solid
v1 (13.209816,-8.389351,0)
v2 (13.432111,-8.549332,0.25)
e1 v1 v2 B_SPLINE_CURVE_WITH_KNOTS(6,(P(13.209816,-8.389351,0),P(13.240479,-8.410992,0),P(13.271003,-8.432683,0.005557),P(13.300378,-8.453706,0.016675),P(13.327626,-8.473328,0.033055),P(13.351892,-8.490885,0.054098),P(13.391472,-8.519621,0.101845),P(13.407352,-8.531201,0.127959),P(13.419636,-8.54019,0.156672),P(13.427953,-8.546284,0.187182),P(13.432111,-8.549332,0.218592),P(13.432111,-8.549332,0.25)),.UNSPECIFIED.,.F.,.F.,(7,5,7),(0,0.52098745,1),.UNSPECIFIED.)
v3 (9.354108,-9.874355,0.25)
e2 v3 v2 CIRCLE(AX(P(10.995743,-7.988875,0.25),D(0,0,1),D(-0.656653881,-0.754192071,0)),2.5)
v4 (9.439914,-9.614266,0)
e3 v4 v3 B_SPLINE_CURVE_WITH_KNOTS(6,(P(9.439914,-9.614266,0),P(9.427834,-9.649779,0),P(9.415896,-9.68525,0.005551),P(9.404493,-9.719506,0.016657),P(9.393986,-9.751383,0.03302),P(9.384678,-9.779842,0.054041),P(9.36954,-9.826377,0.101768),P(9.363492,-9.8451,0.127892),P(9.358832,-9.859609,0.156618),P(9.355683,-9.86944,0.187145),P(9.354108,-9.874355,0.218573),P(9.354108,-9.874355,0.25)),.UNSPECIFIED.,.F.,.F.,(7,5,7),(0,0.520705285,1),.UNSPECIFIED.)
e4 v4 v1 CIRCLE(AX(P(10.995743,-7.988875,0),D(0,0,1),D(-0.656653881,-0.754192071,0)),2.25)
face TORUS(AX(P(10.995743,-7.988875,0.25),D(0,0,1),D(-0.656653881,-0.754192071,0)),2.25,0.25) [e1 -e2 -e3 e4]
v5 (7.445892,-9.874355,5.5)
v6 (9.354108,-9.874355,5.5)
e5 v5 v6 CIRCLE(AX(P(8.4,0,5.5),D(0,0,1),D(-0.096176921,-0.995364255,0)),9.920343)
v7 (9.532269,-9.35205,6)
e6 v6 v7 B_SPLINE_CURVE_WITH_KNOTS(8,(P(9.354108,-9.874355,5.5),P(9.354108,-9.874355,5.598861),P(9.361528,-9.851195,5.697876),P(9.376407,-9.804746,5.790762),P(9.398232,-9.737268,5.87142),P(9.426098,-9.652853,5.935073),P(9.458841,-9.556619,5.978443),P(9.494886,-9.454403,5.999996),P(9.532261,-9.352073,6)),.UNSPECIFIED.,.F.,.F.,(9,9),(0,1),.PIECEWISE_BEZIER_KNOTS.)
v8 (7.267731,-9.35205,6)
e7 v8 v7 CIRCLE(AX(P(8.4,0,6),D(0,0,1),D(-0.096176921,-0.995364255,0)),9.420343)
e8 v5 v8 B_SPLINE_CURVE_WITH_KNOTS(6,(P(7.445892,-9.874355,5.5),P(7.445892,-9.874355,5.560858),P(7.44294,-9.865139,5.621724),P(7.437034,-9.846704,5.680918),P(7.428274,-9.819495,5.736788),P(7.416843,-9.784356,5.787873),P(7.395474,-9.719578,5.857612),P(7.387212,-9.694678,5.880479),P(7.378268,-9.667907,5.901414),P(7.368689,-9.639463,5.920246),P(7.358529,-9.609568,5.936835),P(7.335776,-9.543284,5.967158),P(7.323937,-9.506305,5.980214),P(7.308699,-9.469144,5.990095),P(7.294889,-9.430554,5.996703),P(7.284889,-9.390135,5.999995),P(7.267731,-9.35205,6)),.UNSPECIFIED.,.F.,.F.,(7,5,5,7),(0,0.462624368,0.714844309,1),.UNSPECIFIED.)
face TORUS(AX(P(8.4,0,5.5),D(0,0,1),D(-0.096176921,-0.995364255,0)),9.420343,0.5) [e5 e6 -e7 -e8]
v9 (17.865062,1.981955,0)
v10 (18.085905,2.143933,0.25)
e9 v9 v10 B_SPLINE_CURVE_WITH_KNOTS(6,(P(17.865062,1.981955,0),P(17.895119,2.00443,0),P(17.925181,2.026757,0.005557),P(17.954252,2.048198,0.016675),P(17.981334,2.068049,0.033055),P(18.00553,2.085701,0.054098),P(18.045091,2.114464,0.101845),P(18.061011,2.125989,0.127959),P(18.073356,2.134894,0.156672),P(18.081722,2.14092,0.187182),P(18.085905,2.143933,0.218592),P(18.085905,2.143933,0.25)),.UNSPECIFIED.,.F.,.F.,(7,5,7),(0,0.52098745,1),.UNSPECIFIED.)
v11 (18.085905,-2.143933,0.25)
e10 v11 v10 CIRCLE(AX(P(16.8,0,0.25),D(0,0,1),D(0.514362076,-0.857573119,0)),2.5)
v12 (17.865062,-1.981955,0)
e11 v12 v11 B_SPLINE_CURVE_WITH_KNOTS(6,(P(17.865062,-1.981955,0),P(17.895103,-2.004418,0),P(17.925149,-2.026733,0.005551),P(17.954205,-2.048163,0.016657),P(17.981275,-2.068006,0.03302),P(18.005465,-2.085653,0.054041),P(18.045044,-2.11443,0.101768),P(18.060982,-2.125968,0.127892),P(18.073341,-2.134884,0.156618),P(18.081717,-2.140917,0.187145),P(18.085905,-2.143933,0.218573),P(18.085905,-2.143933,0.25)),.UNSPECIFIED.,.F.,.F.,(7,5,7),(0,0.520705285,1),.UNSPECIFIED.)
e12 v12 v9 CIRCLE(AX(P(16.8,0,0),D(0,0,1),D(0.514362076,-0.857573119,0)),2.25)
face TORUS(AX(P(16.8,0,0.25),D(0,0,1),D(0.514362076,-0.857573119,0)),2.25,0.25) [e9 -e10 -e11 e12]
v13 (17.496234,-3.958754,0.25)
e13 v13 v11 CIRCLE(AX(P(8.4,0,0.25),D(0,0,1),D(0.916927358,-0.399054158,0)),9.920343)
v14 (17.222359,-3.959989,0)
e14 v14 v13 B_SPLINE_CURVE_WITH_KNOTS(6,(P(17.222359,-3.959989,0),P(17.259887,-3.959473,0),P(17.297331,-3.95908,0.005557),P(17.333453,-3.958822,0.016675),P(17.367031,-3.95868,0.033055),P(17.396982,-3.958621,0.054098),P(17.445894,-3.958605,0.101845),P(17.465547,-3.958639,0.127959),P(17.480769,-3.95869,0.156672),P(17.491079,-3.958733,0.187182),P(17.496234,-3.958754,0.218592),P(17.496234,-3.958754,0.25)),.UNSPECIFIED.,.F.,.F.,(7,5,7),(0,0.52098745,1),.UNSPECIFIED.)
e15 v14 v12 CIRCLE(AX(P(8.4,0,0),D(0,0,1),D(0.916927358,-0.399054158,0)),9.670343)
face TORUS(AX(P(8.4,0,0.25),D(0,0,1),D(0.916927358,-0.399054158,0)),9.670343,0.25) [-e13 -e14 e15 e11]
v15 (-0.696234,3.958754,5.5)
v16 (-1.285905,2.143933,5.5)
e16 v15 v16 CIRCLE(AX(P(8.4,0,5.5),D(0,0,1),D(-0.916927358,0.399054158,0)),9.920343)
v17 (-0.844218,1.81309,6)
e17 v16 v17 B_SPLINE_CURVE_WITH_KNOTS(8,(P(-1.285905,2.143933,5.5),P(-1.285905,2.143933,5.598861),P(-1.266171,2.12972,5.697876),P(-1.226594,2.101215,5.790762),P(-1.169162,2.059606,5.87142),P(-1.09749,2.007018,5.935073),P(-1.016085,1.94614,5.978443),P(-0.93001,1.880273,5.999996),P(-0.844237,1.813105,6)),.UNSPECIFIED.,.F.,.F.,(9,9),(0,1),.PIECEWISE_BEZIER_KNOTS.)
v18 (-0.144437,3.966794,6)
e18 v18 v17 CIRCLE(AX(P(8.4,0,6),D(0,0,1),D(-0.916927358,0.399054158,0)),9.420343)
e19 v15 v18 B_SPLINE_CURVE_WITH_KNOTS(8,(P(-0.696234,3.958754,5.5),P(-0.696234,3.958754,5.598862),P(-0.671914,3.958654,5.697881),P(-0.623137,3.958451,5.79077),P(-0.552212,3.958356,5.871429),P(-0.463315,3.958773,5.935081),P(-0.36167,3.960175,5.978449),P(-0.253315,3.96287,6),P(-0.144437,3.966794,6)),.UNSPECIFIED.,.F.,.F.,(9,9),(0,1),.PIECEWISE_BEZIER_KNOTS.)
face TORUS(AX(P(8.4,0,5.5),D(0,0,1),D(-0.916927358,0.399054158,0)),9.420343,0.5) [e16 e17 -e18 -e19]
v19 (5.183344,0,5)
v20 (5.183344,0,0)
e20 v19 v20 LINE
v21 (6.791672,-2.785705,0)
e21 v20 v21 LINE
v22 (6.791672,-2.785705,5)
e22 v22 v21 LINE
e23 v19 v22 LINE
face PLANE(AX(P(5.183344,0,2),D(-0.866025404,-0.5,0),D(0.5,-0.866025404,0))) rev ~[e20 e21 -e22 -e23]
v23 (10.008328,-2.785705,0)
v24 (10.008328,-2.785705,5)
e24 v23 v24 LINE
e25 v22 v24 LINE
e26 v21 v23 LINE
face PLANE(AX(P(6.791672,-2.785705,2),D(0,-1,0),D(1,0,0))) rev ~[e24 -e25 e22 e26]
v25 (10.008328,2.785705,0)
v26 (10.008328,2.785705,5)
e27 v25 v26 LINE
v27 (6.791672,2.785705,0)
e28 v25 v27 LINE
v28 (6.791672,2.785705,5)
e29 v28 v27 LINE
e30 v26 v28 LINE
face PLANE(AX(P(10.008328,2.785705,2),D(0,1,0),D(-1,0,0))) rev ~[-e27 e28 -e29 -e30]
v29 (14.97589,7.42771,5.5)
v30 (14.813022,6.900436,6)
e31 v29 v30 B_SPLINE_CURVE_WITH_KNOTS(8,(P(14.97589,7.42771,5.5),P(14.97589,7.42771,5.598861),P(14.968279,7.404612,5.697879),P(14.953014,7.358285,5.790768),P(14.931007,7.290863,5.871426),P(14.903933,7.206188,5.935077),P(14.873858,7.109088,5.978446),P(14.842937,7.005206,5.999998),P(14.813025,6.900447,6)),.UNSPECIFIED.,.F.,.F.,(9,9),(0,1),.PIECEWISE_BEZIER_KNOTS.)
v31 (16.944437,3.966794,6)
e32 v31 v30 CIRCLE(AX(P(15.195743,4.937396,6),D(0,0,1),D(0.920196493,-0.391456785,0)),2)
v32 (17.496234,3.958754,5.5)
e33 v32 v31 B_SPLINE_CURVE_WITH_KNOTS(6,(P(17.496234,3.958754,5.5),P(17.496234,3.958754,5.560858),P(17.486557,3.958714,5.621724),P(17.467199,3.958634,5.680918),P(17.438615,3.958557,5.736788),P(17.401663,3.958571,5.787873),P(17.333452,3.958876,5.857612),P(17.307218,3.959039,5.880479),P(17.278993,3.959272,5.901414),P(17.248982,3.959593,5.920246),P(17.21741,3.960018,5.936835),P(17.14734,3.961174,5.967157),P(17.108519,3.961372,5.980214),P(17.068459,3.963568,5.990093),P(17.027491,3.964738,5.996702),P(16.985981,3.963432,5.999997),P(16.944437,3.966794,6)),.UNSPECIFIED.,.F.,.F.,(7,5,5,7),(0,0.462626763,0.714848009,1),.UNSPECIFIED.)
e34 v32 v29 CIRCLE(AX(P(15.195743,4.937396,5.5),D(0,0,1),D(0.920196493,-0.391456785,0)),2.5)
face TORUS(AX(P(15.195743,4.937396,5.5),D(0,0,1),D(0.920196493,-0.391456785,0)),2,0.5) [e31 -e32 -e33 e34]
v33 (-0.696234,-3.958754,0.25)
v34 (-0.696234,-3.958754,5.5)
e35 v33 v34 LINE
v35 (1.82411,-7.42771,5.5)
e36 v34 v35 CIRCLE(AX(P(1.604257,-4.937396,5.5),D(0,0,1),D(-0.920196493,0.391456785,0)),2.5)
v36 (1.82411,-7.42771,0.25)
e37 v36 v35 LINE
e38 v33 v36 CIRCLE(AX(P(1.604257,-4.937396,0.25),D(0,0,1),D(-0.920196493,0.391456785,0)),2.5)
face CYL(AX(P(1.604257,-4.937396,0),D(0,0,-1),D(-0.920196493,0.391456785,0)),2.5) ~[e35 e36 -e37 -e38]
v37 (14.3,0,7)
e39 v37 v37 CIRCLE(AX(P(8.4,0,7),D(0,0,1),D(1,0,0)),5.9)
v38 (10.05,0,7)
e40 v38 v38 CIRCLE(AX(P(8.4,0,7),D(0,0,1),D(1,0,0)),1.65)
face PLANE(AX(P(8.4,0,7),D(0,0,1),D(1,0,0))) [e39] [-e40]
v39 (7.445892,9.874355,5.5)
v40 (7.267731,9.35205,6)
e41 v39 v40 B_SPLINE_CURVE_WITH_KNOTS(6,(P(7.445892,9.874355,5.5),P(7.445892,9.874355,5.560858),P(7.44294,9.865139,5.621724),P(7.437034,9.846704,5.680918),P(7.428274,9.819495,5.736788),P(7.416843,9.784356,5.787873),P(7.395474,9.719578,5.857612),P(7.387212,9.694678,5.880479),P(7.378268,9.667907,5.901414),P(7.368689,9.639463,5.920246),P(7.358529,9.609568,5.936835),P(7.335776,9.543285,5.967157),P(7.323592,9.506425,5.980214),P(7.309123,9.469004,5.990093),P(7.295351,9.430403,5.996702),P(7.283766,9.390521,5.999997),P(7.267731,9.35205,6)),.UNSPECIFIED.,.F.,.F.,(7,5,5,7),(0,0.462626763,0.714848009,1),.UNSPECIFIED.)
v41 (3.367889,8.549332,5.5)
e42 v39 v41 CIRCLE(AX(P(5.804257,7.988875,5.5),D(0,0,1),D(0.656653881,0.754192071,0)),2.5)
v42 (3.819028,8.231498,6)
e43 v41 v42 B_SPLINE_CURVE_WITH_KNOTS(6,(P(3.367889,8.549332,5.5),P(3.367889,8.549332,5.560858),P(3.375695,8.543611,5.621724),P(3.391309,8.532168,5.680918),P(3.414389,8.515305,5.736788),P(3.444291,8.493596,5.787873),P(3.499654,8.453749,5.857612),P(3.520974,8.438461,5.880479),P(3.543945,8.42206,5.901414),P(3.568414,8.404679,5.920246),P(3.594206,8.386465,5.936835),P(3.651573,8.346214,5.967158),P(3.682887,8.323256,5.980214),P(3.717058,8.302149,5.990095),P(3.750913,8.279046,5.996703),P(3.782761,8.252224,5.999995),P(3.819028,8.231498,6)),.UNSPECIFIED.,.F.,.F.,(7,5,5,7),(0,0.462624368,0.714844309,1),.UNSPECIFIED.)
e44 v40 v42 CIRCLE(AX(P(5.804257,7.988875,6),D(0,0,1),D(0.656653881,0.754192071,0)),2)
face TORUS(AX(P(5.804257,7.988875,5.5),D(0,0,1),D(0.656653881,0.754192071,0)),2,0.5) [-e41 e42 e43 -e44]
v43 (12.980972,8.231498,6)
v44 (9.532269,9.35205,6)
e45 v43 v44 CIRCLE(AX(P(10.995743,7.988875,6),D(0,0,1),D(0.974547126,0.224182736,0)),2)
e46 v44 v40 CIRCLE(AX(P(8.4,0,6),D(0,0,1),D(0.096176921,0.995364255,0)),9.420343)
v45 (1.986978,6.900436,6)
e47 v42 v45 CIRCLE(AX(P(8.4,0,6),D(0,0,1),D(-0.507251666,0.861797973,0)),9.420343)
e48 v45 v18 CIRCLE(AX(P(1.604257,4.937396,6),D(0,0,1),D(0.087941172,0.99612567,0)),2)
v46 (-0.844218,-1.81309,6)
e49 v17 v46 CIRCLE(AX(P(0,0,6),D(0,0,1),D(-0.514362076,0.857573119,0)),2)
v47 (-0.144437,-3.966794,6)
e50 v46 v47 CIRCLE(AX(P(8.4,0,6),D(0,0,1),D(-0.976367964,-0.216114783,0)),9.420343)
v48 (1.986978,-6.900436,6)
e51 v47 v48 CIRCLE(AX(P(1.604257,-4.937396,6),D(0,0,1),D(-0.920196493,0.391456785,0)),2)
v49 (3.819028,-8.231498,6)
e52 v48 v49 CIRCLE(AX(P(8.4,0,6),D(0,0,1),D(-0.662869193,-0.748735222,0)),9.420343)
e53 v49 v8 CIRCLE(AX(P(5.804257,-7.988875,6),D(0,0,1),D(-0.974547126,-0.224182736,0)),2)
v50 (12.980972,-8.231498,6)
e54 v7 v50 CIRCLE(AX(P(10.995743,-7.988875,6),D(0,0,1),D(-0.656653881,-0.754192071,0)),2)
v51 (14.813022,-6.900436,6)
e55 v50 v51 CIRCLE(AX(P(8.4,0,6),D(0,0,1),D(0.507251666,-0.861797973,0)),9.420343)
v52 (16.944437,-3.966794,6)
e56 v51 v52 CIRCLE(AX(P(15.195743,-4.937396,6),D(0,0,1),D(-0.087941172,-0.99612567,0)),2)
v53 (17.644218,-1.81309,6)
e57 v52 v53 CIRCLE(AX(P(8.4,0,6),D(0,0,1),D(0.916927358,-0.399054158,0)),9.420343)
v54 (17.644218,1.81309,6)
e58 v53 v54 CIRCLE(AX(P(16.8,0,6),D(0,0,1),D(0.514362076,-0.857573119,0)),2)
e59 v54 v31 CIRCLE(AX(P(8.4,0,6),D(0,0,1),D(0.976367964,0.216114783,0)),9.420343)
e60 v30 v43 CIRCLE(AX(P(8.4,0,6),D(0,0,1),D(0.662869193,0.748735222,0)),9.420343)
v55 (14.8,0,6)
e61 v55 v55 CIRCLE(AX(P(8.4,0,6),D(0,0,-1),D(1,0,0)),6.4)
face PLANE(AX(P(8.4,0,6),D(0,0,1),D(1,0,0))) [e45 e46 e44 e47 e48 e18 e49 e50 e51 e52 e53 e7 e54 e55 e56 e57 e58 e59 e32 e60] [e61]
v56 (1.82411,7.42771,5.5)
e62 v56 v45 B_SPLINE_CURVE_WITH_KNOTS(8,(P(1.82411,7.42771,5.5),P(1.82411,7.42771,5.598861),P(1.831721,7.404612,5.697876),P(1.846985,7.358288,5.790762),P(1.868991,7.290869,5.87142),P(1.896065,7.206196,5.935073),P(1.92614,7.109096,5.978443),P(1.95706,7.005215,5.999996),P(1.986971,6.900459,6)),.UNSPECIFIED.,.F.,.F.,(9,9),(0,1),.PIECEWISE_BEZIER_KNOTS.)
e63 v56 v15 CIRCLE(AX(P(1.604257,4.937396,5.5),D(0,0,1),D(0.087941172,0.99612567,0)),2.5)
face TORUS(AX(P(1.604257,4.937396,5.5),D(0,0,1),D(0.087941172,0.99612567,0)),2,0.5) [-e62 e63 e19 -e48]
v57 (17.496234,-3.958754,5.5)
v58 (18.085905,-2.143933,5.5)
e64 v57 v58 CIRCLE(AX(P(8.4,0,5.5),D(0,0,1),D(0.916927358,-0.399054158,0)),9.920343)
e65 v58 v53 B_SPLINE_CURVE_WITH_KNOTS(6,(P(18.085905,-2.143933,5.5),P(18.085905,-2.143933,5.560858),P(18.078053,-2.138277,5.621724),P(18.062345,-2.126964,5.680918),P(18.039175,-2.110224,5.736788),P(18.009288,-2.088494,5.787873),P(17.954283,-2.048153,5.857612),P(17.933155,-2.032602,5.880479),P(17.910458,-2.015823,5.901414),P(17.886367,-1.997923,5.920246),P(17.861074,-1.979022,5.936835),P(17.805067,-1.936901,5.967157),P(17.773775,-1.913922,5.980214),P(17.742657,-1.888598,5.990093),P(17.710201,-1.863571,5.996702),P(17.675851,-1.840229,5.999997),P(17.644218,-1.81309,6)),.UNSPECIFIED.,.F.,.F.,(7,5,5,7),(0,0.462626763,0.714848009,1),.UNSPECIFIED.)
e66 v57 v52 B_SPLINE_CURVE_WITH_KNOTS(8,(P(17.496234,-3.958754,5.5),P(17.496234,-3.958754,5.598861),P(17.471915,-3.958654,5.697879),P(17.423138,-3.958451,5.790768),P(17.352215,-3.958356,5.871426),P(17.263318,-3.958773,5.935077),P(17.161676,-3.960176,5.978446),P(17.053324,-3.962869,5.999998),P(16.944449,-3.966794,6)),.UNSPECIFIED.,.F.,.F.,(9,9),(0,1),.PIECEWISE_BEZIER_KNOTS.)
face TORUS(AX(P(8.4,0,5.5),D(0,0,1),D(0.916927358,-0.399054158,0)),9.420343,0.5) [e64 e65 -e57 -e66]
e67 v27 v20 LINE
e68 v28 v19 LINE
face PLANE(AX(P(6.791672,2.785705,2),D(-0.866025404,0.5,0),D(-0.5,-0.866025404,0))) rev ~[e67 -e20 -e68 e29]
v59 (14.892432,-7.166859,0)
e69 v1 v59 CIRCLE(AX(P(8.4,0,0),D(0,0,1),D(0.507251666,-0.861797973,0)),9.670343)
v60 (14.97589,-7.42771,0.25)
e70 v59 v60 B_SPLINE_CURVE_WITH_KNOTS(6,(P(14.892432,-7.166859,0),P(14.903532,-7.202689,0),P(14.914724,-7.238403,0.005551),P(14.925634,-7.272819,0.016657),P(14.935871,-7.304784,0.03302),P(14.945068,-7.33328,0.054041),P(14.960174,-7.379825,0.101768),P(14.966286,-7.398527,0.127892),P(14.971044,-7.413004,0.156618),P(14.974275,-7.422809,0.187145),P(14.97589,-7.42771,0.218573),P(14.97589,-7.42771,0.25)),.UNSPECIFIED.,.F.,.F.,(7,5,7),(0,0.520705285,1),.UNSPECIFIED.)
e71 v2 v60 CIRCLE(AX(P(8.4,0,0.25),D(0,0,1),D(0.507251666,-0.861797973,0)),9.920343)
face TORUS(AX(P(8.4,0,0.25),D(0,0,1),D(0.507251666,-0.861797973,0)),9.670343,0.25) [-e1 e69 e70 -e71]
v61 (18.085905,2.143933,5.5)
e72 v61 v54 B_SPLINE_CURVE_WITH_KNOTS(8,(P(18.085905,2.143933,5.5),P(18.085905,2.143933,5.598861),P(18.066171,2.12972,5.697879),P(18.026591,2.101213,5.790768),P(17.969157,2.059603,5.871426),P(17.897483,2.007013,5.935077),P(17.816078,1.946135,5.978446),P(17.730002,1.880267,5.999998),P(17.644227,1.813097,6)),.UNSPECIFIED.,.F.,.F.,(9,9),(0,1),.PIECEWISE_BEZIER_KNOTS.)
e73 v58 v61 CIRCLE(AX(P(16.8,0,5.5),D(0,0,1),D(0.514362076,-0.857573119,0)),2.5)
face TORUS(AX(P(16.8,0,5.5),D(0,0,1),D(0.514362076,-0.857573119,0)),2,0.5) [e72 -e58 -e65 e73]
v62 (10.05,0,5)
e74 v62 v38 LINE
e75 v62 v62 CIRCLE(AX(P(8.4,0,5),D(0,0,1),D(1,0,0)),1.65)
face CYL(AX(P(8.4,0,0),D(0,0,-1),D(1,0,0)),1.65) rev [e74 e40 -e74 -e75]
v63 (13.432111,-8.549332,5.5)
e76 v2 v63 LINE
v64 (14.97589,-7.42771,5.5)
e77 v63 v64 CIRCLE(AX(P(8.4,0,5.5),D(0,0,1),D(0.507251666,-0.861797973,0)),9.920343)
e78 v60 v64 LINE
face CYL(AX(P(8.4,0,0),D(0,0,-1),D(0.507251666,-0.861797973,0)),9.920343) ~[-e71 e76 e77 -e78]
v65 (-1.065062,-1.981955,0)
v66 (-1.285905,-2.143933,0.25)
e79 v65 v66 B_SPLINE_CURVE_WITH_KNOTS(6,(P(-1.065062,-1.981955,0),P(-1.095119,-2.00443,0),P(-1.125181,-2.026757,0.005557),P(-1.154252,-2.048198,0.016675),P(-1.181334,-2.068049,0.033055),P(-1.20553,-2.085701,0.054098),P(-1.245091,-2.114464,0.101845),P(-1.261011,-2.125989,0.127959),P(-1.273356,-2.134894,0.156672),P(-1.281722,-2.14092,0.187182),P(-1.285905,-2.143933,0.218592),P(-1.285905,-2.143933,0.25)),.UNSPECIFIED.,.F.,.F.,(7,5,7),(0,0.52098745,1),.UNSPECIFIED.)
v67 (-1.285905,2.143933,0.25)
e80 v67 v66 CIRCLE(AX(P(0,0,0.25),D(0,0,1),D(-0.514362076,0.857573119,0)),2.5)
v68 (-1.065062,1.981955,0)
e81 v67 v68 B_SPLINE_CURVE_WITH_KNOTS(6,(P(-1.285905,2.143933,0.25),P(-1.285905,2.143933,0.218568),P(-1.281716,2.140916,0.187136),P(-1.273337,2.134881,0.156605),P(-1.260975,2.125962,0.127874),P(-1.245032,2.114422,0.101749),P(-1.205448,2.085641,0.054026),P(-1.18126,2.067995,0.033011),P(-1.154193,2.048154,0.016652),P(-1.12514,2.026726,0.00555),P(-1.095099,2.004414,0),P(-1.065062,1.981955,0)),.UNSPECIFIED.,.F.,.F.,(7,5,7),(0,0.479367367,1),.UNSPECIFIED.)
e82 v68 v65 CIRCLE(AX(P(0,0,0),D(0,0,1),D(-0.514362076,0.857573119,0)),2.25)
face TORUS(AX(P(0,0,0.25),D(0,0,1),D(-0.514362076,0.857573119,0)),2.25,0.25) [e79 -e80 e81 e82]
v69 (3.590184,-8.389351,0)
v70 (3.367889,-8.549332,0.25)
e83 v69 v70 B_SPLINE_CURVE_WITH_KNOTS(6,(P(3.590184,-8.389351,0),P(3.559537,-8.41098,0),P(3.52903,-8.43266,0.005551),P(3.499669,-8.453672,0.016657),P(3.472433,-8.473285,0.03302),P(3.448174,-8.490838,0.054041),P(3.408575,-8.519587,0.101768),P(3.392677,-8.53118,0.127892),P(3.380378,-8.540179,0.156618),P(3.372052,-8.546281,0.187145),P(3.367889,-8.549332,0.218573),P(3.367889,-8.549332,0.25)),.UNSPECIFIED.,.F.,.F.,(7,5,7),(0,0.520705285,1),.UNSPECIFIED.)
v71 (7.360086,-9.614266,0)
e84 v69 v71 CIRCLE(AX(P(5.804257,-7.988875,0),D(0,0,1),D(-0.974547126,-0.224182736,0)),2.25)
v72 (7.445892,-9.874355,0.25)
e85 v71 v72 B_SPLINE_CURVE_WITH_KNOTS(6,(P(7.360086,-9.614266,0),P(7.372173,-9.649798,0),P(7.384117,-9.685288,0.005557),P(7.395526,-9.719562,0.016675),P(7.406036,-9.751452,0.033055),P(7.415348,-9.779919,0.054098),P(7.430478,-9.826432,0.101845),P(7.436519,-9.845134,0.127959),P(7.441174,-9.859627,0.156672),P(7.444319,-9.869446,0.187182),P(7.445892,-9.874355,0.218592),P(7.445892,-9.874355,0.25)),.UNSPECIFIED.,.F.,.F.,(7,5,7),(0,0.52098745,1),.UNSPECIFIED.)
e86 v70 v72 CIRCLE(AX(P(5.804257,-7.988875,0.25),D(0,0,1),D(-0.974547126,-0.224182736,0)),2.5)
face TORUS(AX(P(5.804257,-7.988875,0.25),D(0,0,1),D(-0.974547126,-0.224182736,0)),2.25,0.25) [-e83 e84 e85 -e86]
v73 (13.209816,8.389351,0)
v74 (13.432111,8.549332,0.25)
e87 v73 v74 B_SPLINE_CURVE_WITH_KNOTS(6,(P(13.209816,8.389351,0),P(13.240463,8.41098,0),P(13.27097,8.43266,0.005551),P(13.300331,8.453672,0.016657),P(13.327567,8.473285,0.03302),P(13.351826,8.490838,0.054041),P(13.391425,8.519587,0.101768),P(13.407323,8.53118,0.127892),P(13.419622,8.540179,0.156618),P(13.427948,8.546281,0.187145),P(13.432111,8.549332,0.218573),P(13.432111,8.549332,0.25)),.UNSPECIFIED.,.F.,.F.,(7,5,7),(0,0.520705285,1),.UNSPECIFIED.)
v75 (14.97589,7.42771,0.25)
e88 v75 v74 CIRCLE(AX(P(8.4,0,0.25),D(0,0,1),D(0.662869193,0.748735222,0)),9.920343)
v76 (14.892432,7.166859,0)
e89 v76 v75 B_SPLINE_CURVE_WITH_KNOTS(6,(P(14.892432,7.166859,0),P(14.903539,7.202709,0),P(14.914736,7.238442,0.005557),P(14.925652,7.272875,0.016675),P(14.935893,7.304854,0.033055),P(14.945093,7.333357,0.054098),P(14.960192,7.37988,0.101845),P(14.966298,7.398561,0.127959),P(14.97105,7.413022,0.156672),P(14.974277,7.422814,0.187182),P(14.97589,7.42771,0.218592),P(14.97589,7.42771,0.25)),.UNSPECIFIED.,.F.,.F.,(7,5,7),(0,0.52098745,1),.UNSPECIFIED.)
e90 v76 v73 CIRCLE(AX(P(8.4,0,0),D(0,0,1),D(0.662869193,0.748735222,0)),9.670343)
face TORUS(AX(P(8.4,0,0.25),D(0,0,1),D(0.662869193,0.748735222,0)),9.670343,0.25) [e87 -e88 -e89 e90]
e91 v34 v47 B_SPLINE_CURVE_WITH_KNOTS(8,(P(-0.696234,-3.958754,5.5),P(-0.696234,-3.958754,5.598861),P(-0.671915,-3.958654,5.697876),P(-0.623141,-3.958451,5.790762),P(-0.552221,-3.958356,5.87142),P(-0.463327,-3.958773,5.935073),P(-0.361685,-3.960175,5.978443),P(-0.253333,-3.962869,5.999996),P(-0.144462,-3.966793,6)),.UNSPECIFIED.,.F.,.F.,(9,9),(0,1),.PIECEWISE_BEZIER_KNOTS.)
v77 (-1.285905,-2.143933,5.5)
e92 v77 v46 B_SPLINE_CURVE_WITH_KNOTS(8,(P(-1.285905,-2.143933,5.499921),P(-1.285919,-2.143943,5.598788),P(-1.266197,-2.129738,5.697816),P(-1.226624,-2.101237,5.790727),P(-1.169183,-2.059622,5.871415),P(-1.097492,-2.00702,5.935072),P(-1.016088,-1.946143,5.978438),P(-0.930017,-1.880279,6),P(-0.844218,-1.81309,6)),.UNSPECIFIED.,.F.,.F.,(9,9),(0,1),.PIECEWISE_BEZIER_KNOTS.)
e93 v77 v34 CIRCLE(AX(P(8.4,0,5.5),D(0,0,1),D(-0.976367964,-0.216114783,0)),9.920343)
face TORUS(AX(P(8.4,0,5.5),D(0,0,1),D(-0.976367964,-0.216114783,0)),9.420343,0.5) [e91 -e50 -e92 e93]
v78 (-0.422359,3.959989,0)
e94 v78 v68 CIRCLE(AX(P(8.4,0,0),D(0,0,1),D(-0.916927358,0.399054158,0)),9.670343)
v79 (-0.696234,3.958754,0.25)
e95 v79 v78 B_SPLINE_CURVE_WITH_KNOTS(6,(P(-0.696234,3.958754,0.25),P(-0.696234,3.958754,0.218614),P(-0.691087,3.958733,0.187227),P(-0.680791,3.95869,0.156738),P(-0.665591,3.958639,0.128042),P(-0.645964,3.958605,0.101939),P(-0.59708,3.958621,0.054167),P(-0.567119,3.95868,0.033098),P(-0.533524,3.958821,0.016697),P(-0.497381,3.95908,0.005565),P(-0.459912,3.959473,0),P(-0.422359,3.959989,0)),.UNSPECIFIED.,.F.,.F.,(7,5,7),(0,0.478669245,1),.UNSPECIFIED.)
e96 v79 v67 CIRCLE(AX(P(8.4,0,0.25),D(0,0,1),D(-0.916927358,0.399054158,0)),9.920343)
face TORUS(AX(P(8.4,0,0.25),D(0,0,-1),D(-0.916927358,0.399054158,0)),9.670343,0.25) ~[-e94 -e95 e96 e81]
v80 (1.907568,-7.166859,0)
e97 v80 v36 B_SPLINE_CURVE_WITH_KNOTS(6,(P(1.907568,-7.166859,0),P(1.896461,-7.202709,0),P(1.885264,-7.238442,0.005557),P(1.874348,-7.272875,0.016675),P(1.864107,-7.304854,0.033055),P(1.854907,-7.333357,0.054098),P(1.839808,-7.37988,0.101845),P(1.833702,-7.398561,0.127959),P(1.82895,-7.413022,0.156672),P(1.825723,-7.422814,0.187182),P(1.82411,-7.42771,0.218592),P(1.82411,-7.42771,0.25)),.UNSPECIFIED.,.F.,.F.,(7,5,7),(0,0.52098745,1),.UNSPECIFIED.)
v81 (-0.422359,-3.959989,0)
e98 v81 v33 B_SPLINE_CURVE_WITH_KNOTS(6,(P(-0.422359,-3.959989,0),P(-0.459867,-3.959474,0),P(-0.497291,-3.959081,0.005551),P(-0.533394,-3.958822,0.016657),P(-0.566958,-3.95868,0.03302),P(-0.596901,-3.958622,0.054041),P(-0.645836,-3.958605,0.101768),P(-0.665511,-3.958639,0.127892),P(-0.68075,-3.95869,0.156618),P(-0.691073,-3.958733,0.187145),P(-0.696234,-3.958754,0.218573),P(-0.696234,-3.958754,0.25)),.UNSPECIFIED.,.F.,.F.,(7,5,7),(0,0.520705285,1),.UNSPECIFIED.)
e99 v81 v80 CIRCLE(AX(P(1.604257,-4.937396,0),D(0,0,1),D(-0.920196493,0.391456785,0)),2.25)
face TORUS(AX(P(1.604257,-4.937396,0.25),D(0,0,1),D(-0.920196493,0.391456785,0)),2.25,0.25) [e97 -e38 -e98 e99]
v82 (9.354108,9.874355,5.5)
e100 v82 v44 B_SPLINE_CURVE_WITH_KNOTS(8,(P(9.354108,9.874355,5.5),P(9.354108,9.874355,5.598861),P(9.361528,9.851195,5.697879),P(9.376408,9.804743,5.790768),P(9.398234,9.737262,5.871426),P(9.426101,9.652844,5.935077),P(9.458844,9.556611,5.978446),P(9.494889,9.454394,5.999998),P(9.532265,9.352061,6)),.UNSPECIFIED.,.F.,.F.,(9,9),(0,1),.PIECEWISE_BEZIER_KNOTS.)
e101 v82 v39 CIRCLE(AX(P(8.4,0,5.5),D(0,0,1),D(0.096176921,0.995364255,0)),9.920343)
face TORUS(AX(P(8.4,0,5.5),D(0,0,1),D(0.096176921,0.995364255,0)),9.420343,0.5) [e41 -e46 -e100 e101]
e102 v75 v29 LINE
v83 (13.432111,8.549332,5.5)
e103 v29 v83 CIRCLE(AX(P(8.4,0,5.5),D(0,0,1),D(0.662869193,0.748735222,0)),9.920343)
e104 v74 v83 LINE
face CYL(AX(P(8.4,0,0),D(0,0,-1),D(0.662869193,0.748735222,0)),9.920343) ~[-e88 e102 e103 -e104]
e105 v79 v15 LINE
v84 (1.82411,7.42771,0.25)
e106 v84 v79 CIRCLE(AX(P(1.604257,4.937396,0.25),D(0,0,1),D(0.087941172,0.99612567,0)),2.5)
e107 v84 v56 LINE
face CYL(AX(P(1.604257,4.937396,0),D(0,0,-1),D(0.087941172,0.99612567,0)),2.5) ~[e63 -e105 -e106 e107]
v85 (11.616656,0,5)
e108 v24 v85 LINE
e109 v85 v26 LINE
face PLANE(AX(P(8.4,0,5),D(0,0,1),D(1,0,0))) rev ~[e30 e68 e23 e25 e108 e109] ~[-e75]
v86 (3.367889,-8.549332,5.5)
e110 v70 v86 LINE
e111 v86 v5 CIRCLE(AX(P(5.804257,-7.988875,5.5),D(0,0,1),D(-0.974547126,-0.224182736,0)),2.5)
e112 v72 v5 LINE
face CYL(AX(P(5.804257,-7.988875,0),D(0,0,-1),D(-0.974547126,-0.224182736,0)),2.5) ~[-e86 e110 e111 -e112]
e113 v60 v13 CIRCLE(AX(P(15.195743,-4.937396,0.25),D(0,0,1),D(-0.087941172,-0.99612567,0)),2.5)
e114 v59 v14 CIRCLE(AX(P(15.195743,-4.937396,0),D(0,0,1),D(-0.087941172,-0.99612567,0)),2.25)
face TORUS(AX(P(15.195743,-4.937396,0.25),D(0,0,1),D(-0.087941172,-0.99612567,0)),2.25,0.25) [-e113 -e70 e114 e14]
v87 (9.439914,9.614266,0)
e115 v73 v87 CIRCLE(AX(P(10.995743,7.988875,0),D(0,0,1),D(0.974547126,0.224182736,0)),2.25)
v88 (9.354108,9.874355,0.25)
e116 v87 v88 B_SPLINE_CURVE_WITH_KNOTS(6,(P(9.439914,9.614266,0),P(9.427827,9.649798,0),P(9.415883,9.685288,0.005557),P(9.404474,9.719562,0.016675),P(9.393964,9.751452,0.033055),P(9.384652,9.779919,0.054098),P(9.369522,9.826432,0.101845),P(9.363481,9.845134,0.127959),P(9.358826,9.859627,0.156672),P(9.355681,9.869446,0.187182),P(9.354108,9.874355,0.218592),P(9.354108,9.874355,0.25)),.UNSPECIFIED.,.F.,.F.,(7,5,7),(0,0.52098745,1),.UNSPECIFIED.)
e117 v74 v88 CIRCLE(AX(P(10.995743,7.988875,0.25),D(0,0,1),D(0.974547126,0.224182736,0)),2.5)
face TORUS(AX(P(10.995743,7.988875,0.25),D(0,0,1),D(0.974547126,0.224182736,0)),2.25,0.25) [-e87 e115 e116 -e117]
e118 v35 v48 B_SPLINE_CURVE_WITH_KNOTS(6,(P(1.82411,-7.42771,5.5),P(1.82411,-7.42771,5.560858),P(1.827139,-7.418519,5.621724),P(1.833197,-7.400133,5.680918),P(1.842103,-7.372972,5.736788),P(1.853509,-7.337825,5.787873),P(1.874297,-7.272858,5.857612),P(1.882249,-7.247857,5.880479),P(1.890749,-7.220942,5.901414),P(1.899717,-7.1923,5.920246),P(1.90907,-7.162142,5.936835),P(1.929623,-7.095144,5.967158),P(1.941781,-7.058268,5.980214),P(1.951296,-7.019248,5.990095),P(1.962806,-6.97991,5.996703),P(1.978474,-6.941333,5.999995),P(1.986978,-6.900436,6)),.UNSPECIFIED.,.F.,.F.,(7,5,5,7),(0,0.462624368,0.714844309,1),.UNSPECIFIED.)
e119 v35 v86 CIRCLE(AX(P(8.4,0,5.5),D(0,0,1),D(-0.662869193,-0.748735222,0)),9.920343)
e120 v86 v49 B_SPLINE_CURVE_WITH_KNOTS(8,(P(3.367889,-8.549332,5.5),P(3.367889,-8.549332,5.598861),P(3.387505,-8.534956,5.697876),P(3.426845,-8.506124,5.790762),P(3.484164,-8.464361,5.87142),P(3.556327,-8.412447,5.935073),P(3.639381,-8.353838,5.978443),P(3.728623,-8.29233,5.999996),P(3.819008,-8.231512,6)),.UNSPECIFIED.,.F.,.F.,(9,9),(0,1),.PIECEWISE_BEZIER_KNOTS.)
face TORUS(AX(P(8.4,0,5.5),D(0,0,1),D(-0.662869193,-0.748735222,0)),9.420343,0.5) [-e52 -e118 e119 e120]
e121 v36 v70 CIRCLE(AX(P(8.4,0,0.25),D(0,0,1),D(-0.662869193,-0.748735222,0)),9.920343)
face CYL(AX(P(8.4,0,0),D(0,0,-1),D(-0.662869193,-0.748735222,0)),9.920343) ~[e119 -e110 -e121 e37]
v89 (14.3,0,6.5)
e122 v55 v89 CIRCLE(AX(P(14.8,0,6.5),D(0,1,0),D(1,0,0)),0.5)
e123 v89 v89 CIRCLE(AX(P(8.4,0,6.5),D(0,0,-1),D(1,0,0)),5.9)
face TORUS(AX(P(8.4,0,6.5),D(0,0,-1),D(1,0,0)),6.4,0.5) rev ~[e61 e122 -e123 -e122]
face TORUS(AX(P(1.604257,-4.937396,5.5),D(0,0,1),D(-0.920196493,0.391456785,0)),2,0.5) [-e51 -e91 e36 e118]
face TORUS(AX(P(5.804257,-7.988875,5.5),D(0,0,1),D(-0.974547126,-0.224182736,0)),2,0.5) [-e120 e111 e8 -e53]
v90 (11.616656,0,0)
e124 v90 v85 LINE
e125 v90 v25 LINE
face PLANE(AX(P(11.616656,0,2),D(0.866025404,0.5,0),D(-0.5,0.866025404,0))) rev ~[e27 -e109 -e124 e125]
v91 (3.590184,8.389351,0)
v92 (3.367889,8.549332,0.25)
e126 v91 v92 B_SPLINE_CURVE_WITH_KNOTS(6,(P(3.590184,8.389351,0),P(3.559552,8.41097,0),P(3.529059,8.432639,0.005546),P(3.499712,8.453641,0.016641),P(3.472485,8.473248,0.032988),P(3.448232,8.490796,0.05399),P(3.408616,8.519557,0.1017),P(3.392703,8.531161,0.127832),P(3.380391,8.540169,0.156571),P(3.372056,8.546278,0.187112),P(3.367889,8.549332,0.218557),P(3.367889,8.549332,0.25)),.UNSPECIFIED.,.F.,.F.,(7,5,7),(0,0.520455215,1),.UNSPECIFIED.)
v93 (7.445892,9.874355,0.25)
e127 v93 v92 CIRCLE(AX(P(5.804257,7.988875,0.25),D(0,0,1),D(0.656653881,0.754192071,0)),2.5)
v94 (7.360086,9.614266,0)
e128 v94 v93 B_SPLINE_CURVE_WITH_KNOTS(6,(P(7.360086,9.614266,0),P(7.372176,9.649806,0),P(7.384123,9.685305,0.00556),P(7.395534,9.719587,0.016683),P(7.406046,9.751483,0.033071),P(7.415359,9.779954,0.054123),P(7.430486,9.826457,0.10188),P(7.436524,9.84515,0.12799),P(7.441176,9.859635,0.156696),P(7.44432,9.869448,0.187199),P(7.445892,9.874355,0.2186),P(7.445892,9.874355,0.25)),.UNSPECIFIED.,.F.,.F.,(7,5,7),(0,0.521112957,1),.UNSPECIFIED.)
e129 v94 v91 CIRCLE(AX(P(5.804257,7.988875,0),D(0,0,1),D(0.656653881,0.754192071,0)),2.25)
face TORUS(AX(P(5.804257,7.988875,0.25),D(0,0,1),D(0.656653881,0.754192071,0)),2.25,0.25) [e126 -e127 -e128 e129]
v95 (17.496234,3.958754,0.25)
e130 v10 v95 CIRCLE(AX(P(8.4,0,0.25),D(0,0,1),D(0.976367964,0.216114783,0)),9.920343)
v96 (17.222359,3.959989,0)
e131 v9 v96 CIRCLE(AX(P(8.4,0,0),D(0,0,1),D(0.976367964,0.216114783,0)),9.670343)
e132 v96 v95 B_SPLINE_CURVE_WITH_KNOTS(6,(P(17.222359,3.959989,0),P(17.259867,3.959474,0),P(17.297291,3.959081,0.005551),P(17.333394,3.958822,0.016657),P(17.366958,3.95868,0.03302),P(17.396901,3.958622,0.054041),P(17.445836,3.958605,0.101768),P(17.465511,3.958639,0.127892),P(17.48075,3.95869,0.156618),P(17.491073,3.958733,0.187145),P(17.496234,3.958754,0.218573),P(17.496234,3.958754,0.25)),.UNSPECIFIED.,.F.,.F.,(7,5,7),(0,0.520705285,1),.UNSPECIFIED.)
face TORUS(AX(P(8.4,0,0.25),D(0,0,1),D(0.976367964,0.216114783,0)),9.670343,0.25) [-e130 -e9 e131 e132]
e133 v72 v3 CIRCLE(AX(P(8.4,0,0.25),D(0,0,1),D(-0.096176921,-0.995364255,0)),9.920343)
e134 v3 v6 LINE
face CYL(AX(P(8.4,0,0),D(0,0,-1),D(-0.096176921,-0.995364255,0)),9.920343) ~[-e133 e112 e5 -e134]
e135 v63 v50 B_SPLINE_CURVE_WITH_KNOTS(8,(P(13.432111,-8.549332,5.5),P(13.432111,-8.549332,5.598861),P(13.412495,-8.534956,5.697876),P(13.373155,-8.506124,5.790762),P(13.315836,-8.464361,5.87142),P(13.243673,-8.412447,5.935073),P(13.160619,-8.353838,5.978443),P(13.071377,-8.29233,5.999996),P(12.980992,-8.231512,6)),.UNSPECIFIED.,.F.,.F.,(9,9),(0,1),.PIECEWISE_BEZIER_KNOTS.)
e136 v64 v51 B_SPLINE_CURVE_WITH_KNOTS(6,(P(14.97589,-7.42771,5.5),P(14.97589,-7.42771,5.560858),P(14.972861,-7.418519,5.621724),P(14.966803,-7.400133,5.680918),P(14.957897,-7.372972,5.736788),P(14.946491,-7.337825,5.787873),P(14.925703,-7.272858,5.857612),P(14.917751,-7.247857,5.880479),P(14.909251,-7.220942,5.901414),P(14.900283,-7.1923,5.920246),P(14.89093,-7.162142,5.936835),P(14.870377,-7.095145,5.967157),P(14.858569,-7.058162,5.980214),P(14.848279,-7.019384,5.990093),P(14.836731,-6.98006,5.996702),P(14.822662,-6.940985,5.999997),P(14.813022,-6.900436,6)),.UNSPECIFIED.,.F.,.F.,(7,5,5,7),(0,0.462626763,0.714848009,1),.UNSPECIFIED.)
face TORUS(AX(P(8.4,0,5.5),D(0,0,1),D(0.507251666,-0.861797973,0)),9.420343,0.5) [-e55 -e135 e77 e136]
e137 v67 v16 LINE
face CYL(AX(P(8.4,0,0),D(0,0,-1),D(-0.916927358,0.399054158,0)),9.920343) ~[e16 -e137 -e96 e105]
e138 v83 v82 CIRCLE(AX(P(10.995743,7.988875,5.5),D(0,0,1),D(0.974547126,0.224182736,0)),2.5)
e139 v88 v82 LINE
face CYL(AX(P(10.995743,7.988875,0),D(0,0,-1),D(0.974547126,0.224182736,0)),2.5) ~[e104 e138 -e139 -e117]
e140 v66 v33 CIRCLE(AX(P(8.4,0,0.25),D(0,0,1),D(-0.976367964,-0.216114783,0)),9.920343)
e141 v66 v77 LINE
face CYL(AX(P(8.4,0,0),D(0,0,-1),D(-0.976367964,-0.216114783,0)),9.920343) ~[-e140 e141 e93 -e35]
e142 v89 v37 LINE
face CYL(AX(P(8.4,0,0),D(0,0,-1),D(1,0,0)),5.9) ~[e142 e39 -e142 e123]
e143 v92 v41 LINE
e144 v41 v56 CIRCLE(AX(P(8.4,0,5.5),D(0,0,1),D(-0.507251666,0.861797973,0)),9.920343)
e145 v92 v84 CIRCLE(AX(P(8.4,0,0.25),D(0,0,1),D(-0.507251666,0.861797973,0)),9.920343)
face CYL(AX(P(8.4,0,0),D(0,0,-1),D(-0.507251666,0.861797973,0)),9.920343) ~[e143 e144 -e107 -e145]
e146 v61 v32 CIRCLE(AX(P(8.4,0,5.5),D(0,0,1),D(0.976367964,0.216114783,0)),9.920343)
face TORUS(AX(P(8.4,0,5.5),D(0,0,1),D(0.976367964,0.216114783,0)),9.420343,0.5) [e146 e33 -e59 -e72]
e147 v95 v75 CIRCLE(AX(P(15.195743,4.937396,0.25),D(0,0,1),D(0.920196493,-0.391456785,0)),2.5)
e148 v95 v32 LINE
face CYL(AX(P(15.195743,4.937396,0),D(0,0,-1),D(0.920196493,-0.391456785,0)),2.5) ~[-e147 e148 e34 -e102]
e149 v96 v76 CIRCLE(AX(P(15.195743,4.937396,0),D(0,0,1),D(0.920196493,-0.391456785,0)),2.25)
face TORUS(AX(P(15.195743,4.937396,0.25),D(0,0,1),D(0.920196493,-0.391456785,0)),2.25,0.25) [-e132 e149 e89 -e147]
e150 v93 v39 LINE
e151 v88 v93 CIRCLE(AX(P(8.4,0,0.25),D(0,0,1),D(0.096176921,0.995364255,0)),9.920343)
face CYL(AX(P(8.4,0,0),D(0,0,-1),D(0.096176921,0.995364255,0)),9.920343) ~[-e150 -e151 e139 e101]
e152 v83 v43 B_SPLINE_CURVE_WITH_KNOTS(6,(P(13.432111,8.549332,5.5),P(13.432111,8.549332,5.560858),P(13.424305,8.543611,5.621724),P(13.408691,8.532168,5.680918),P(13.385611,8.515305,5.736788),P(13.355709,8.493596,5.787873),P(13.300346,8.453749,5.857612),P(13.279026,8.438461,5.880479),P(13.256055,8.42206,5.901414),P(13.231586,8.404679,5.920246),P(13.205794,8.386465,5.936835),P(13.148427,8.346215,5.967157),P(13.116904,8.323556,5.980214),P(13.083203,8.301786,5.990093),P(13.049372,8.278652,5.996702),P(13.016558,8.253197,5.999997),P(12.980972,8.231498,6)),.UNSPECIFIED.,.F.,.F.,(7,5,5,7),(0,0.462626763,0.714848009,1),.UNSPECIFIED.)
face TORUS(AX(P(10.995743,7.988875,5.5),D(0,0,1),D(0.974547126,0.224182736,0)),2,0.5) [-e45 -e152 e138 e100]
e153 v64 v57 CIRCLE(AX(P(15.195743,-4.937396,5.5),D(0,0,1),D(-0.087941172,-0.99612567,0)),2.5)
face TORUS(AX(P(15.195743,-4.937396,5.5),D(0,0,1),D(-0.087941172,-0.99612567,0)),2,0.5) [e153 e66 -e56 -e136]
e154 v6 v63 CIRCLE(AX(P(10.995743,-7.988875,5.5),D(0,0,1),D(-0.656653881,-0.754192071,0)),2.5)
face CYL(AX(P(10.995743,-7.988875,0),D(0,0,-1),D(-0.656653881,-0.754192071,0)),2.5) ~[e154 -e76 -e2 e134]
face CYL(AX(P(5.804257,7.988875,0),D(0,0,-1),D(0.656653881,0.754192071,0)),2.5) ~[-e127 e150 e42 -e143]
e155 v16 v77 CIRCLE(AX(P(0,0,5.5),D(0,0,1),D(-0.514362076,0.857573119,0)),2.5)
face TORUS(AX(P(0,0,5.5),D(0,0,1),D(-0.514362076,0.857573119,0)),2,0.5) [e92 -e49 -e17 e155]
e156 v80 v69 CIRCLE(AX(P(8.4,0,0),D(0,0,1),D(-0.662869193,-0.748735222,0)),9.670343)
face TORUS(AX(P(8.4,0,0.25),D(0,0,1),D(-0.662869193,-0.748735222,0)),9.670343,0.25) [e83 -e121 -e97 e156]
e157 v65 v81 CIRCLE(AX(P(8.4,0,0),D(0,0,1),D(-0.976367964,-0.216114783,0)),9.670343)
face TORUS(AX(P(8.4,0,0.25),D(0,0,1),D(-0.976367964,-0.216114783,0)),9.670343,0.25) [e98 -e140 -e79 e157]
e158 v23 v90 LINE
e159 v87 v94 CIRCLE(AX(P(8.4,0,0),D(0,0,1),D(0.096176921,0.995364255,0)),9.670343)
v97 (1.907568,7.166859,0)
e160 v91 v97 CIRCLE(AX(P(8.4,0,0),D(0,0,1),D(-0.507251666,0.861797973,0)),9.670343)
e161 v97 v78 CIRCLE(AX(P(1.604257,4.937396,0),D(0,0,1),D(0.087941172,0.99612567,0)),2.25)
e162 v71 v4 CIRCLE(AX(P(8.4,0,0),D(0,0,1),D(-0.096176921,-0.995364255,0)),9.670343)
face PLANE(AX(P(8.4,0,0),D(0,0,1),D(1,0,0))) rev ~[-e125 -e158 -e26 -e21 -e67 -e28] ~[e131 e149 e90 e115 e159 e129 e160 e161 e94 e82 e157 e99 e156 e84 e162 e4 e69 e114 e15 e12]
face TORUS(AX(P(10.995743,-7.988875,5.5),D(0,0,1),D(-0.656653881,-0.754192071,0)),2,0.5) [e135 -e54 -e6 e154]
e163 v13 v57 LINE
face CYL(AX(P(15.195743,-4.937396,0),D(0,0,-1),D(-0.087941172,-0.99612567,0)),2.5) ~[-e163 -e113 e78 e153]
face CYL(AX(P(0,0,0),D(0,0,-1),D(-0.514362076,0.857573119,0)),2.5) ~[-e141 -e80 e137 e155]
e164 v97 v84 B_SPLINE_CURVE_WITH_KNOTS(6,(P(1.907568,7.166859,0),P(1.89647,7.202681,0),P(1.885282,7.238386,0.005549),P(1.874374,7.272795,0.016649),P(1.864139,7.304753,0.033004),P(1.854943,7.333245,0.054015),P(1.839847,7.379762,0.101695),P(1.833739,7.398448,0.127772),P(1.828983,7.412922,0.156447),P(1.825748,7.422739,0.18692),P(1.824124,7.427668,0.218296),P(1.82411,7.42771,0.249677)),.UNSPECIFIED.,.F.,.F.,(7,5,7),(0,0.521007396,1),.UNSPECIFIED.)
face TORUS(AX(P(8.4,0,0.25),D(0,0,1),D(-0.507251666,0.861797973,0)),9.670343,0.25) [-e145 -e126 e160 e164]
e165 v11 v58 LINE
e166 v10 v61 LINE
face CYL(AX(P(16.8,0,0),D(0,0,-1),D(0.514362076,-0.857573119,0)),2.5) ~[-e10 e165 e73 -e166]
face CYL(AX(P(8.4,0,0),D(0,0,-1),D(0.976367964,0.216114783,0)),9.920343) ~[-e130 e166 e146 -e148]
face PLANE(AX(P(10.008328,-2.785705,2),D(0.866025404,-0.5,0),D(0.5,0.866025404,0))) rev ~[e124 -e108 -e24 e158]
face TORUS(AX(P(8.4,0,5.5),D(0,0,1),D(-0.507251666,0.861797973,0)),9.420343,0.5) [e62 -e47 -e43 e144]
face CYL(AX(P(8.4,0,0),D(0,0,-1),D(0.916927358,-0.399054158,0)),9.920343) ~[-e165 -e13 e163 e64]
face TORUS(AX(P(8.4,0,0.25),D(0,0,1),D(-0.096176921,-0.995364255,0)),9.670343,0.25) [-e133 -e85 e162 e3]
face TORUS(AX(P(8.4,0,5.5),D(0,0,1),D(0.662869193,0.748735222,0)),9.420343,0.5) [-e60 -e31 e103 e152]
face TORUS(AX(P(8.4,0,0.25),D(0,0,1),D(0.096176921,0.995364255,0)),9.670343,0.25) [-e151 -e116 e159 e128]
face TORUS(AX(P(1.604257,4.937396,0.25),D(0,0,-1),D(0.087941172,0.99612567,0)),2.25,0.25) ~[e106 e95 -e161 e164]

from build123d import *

# Parameters (mm, degrees)
F0_R     = 5.9
F0_R_2   = 1.65
F1_DEPTH = 6
F2_DEPTH = 7
F3_DEPTH = 7
F5_START = -2
F4_R     = 1.65
F5_DEPTH = 3
F6_R     = 0.5
F7_R     = 0.25
F8_DEPTH = 2
F9_DEPTH = 2


with BuildPart() as f1:
    # F0 (on Top) → F1 (new body)
    with BuildSketch(Plane.XY):
        with BuildLine():
            ThreePointArc((-0.6962339846, 3.9587541561), (-1.0348069468, 3.0655546072), (-1.2859051888, 2.1439327987))
            ThreePointArc((-1.2859051888, 2.1439327987), (-2.5, 0), (-1.2859051888, -2.1439327987))
            ThreePointArc((-1.2859051888, -2.1439327987), (-1.0348069468, -3.0655546072), (-0.6962339846, -3.9587541561))
            ThreePointArc((-0.6962339846, -3.9587541561), (-0.4182852387, -6.40685925), (1.8241101773, -7.427710294))
            ThreePointArc((1.8241101773, -7.427710294), (2.5689686296, -8.0257261559), (3.367889432, -8.5493315764))
            ThreePointArc((3.367889432, -8.5493315764), (5.0317147613, -10.3665160276), (7.4458919495, -9.8743549156))
            ThreePointArc((7.4458919495, -9.8743549156), (8.4, -9.9203430975), (9.3541080505, -9.8743549156))
            ThreePointArc((9.3541080505, -9.8743549156), (11.7682852387, -10.3665160276), (13.432110568, -8.5493315764))
            ThreePointArc((13.432110568, -8.5493315764), (14.2310313704, -8.0257261559), (14.9758898227, -7.427710294))
            ThreePointArc((14.9758898227, -7.427710294), (17.2182852387, -6.40685925), (17.4962339846, -3.9587541561))
            ThreePointArc((17.4962339846, -3.9587541561), (17.8348069468, -3.0655546072), (18.0859051888, -2.1439327987))
            ThreePointArc((18.0859051888, -2.1439327987), (19.3, 0), (18.0859051888, 2.1439327987))
            ThreePointArc((18.0859051888, 2.1439327987), (17.8348069468, 3.0655546072), (17.4962339846, 3.9587541561))
            ThreePointArc((17.4962339846, 3.9587541561), (17.2182852387, 6.40685925), (14.9758898227, 7.427710294))
            ThreePointArc((14.9758898227, 7.427710294), (14.2310313704, 8.0257261559), (13.432110568, 8.5493315764))
            ThreePointArc((13.432110568, 8.5493315764), (11.7682852387, 10.3665160276), (9.3541080505, 9.8743549156))
            ThreePointArc((9.3541080505, 9.8743549156), (8.4, 9.9203430975), (7.4458919495, 9.8743549156))
            ThreePointArc((7.4458919495, 9.8743549156), (5.0317147613, 10.3665160276), (3.367889432, 8.5493315764))
            ThreePointArc((3.367889432, 8.5493315764), (2.5689686296, 8.0257261559), (1.8241101773, 7.427710294))
            ThreePointArc((1.8241101773, 7.427710294), (-0.4182852387, 6.40685925), (-0.6962339846, 3.9587541561))
        make_face()
        with Locations((8.4, 0)):
            Circle(F0_R, mode=Mode.SUBTRACT)
        with Locations((8.4, 0)):
            Circle(F0_R)
        Polygon((11.6908965344, 0), (10.0454482672, -2.85), (6.7545517328, -2.85), (5.1091034656, 0), (6.7545517328, 2.85), (10.0454482672, 2.85), align=None, mode=Mode.SUBTRACT)
        Polygon((6.7545517328, -2.85), (10.0454482672, -2.85), (11.6908965344, 0), (10.0454482672, 2.85), (6.7545517328, 2.85), (5.1091034656, 0), align=None)
        with Locations((8.4, 0)):
            Circle(F0_R_2, mode=Mode.SUBTRACT)
    extrude(amount=F1_DEPTH)

    # F0 (on Top) → F2 (join)
    with BuildSketch(Plane.XY):
        with Locations((8.4, 0)):
            Circle(F0_R)
        Polygon((11.6908965344, 0), (10.0454482672, -2.85), (6.7545517328, -2.85), (5.1091034656, 0), (6.7545517328, 2.85), (10.0454482672, 2.85), align=None, mode=Mode.SUBTRACT)
    extrude(amount=F2_DEPTH)

    # F0 (on Top) → F3 (join)
    with BuildSketch(Plane.XY):
        Polygon((6.7545517328, -2.85), (10.0454482672, -2.85), (11.6908965344, 0), (10.0454482672, 2.85), (6.7545517328, 2.85), (5.1091034656, 0), align=None)
        with Locations((8.4, 0)):
            Circle(F0_R_2, mode=Mode.SUBTRACT)
    extrude(amount=F3_DEPTH)

    # F4 (on face) → F5 (cut)
    with BuildSketch(Plane.XY.offset(7).offset(F5_START)):
        Polygon((10.0083278178, 2.7857054956), (6.7916721822, 2.7857054956), (5.1833443644, 0), (6.7916721822, -2.7857054956), (10.0083278178, -2.7857054956), (11.6166556356, 0), align=None)
        with Locations((8.4, 0)):
            Circle(F4_R, mode=Mode.SUBTRACT)
    extrude(amount=-F5_DEPTH, mode=Mode.SUBTRACT)

    # F6
    f6_edges = [f1.edges().sort_by_distance(p)[0] for p in [
        (2.568969, 8.025726, 6),
        (5.031715, 10.366516, 6),
        (-0.418285, 6.406859, 6),
        (8.4, 9.920343, 6),
        (-1.034807, 3.065555, 6),
        (11.768285, 10.366516, 6),
        (-2.5, 0, 6),
        (14.231031, 8.025726, 6),
        (-1.034807, -3.065555, 6),
        (17.218285, 6.406859, 6),
        (-0.418285, -6.406859, 6),
        (17.834807, 3.065555, 6),
        (2.568969, -8.025726, 6),
        (19.3, 0, 6),
        (5.031715, -10.366516, 6),
        (17.834807, -3.065555, 6),
        (8.4, -9.920343, 6),
        (17.218285, -6.406859, 6),
        (11.768285, -10.366516, 6),
        (14.231031, -8.025726, 6),
        (2.5, 0, 6),
    ]]
    fillet(f6_edges, radius=F6_R)

    # F7
    f7_edges = [f1.edges().sort_by_distance(p)[0] for p in [
        (2.568969, 8.025726, 0),
        (-0.418285, 6.406859, 0),
        (-1.034807, 3.065555, 0),
        (-2.5, 0, 0),
        (-1.034807, -3.065555, 0),
        (-0.418285, -6.406859, 0),
        (2.568969, -8.025726, 0),
        (5.031715, -10.366516, 0),
        (8.4, -9.920343, 0),
        (11.768285, -10.366516, 0),
        (14.231031, -8.025726, 0),
        (17.218285, -6.406859, 0),
        (17.834807, -3.065555, 0),
        (19.3, 0, 0),
        (17.834807, 3.065555, 0),
        (17.218285, 6.406859, 0),
        (14.231031, 8.025726, 0),
        (11.768285, 10.366516, 0),
        (8.4, 9.920343, 0),
        (5.031715, 10.366516, 0),
        (6.75, 0, 0),
    ]]
    fillet(f7_edges, radius=F7_R)

    # F0 (on Top) → F8 (cut)
    with BuildSketch(Plane.XY):
        with Locations((8.4, 0)):
            Circle(F0_R)
        Polygon((11.6908965344, 0), (10.0454482672, -2.85), (6.7545517328, -2.85), (5.1091034656, 0), (6.7545517328, 2.85), (10.0454482672, 2.85), align=None, mode=Mode.SUBTRACT)
        Polygon((6.7545517328, -2.85), (10.0454482672, -2.85), (11.6908965344, 0), (10.0454482672, 2.85), (6.7545517328, 2.85), (5.1091034656, 0), align=None)
        with Locations((8.4, 0)):
            Circle(F0_R_2, mode=Mode.SUBTRACT)
    extrude(amount=F8_DEPTH, mode=Mode.SUBTRACT)

    # F9 (add): a face of the model
    f9_faces = [f1.faces().sort_by_distance(p)[0] for p in [
        (2.6668772004, 0, 2),
    ]]
    extrude(f9_faces, amount=F9_DEPTH)


solid = f1.part
